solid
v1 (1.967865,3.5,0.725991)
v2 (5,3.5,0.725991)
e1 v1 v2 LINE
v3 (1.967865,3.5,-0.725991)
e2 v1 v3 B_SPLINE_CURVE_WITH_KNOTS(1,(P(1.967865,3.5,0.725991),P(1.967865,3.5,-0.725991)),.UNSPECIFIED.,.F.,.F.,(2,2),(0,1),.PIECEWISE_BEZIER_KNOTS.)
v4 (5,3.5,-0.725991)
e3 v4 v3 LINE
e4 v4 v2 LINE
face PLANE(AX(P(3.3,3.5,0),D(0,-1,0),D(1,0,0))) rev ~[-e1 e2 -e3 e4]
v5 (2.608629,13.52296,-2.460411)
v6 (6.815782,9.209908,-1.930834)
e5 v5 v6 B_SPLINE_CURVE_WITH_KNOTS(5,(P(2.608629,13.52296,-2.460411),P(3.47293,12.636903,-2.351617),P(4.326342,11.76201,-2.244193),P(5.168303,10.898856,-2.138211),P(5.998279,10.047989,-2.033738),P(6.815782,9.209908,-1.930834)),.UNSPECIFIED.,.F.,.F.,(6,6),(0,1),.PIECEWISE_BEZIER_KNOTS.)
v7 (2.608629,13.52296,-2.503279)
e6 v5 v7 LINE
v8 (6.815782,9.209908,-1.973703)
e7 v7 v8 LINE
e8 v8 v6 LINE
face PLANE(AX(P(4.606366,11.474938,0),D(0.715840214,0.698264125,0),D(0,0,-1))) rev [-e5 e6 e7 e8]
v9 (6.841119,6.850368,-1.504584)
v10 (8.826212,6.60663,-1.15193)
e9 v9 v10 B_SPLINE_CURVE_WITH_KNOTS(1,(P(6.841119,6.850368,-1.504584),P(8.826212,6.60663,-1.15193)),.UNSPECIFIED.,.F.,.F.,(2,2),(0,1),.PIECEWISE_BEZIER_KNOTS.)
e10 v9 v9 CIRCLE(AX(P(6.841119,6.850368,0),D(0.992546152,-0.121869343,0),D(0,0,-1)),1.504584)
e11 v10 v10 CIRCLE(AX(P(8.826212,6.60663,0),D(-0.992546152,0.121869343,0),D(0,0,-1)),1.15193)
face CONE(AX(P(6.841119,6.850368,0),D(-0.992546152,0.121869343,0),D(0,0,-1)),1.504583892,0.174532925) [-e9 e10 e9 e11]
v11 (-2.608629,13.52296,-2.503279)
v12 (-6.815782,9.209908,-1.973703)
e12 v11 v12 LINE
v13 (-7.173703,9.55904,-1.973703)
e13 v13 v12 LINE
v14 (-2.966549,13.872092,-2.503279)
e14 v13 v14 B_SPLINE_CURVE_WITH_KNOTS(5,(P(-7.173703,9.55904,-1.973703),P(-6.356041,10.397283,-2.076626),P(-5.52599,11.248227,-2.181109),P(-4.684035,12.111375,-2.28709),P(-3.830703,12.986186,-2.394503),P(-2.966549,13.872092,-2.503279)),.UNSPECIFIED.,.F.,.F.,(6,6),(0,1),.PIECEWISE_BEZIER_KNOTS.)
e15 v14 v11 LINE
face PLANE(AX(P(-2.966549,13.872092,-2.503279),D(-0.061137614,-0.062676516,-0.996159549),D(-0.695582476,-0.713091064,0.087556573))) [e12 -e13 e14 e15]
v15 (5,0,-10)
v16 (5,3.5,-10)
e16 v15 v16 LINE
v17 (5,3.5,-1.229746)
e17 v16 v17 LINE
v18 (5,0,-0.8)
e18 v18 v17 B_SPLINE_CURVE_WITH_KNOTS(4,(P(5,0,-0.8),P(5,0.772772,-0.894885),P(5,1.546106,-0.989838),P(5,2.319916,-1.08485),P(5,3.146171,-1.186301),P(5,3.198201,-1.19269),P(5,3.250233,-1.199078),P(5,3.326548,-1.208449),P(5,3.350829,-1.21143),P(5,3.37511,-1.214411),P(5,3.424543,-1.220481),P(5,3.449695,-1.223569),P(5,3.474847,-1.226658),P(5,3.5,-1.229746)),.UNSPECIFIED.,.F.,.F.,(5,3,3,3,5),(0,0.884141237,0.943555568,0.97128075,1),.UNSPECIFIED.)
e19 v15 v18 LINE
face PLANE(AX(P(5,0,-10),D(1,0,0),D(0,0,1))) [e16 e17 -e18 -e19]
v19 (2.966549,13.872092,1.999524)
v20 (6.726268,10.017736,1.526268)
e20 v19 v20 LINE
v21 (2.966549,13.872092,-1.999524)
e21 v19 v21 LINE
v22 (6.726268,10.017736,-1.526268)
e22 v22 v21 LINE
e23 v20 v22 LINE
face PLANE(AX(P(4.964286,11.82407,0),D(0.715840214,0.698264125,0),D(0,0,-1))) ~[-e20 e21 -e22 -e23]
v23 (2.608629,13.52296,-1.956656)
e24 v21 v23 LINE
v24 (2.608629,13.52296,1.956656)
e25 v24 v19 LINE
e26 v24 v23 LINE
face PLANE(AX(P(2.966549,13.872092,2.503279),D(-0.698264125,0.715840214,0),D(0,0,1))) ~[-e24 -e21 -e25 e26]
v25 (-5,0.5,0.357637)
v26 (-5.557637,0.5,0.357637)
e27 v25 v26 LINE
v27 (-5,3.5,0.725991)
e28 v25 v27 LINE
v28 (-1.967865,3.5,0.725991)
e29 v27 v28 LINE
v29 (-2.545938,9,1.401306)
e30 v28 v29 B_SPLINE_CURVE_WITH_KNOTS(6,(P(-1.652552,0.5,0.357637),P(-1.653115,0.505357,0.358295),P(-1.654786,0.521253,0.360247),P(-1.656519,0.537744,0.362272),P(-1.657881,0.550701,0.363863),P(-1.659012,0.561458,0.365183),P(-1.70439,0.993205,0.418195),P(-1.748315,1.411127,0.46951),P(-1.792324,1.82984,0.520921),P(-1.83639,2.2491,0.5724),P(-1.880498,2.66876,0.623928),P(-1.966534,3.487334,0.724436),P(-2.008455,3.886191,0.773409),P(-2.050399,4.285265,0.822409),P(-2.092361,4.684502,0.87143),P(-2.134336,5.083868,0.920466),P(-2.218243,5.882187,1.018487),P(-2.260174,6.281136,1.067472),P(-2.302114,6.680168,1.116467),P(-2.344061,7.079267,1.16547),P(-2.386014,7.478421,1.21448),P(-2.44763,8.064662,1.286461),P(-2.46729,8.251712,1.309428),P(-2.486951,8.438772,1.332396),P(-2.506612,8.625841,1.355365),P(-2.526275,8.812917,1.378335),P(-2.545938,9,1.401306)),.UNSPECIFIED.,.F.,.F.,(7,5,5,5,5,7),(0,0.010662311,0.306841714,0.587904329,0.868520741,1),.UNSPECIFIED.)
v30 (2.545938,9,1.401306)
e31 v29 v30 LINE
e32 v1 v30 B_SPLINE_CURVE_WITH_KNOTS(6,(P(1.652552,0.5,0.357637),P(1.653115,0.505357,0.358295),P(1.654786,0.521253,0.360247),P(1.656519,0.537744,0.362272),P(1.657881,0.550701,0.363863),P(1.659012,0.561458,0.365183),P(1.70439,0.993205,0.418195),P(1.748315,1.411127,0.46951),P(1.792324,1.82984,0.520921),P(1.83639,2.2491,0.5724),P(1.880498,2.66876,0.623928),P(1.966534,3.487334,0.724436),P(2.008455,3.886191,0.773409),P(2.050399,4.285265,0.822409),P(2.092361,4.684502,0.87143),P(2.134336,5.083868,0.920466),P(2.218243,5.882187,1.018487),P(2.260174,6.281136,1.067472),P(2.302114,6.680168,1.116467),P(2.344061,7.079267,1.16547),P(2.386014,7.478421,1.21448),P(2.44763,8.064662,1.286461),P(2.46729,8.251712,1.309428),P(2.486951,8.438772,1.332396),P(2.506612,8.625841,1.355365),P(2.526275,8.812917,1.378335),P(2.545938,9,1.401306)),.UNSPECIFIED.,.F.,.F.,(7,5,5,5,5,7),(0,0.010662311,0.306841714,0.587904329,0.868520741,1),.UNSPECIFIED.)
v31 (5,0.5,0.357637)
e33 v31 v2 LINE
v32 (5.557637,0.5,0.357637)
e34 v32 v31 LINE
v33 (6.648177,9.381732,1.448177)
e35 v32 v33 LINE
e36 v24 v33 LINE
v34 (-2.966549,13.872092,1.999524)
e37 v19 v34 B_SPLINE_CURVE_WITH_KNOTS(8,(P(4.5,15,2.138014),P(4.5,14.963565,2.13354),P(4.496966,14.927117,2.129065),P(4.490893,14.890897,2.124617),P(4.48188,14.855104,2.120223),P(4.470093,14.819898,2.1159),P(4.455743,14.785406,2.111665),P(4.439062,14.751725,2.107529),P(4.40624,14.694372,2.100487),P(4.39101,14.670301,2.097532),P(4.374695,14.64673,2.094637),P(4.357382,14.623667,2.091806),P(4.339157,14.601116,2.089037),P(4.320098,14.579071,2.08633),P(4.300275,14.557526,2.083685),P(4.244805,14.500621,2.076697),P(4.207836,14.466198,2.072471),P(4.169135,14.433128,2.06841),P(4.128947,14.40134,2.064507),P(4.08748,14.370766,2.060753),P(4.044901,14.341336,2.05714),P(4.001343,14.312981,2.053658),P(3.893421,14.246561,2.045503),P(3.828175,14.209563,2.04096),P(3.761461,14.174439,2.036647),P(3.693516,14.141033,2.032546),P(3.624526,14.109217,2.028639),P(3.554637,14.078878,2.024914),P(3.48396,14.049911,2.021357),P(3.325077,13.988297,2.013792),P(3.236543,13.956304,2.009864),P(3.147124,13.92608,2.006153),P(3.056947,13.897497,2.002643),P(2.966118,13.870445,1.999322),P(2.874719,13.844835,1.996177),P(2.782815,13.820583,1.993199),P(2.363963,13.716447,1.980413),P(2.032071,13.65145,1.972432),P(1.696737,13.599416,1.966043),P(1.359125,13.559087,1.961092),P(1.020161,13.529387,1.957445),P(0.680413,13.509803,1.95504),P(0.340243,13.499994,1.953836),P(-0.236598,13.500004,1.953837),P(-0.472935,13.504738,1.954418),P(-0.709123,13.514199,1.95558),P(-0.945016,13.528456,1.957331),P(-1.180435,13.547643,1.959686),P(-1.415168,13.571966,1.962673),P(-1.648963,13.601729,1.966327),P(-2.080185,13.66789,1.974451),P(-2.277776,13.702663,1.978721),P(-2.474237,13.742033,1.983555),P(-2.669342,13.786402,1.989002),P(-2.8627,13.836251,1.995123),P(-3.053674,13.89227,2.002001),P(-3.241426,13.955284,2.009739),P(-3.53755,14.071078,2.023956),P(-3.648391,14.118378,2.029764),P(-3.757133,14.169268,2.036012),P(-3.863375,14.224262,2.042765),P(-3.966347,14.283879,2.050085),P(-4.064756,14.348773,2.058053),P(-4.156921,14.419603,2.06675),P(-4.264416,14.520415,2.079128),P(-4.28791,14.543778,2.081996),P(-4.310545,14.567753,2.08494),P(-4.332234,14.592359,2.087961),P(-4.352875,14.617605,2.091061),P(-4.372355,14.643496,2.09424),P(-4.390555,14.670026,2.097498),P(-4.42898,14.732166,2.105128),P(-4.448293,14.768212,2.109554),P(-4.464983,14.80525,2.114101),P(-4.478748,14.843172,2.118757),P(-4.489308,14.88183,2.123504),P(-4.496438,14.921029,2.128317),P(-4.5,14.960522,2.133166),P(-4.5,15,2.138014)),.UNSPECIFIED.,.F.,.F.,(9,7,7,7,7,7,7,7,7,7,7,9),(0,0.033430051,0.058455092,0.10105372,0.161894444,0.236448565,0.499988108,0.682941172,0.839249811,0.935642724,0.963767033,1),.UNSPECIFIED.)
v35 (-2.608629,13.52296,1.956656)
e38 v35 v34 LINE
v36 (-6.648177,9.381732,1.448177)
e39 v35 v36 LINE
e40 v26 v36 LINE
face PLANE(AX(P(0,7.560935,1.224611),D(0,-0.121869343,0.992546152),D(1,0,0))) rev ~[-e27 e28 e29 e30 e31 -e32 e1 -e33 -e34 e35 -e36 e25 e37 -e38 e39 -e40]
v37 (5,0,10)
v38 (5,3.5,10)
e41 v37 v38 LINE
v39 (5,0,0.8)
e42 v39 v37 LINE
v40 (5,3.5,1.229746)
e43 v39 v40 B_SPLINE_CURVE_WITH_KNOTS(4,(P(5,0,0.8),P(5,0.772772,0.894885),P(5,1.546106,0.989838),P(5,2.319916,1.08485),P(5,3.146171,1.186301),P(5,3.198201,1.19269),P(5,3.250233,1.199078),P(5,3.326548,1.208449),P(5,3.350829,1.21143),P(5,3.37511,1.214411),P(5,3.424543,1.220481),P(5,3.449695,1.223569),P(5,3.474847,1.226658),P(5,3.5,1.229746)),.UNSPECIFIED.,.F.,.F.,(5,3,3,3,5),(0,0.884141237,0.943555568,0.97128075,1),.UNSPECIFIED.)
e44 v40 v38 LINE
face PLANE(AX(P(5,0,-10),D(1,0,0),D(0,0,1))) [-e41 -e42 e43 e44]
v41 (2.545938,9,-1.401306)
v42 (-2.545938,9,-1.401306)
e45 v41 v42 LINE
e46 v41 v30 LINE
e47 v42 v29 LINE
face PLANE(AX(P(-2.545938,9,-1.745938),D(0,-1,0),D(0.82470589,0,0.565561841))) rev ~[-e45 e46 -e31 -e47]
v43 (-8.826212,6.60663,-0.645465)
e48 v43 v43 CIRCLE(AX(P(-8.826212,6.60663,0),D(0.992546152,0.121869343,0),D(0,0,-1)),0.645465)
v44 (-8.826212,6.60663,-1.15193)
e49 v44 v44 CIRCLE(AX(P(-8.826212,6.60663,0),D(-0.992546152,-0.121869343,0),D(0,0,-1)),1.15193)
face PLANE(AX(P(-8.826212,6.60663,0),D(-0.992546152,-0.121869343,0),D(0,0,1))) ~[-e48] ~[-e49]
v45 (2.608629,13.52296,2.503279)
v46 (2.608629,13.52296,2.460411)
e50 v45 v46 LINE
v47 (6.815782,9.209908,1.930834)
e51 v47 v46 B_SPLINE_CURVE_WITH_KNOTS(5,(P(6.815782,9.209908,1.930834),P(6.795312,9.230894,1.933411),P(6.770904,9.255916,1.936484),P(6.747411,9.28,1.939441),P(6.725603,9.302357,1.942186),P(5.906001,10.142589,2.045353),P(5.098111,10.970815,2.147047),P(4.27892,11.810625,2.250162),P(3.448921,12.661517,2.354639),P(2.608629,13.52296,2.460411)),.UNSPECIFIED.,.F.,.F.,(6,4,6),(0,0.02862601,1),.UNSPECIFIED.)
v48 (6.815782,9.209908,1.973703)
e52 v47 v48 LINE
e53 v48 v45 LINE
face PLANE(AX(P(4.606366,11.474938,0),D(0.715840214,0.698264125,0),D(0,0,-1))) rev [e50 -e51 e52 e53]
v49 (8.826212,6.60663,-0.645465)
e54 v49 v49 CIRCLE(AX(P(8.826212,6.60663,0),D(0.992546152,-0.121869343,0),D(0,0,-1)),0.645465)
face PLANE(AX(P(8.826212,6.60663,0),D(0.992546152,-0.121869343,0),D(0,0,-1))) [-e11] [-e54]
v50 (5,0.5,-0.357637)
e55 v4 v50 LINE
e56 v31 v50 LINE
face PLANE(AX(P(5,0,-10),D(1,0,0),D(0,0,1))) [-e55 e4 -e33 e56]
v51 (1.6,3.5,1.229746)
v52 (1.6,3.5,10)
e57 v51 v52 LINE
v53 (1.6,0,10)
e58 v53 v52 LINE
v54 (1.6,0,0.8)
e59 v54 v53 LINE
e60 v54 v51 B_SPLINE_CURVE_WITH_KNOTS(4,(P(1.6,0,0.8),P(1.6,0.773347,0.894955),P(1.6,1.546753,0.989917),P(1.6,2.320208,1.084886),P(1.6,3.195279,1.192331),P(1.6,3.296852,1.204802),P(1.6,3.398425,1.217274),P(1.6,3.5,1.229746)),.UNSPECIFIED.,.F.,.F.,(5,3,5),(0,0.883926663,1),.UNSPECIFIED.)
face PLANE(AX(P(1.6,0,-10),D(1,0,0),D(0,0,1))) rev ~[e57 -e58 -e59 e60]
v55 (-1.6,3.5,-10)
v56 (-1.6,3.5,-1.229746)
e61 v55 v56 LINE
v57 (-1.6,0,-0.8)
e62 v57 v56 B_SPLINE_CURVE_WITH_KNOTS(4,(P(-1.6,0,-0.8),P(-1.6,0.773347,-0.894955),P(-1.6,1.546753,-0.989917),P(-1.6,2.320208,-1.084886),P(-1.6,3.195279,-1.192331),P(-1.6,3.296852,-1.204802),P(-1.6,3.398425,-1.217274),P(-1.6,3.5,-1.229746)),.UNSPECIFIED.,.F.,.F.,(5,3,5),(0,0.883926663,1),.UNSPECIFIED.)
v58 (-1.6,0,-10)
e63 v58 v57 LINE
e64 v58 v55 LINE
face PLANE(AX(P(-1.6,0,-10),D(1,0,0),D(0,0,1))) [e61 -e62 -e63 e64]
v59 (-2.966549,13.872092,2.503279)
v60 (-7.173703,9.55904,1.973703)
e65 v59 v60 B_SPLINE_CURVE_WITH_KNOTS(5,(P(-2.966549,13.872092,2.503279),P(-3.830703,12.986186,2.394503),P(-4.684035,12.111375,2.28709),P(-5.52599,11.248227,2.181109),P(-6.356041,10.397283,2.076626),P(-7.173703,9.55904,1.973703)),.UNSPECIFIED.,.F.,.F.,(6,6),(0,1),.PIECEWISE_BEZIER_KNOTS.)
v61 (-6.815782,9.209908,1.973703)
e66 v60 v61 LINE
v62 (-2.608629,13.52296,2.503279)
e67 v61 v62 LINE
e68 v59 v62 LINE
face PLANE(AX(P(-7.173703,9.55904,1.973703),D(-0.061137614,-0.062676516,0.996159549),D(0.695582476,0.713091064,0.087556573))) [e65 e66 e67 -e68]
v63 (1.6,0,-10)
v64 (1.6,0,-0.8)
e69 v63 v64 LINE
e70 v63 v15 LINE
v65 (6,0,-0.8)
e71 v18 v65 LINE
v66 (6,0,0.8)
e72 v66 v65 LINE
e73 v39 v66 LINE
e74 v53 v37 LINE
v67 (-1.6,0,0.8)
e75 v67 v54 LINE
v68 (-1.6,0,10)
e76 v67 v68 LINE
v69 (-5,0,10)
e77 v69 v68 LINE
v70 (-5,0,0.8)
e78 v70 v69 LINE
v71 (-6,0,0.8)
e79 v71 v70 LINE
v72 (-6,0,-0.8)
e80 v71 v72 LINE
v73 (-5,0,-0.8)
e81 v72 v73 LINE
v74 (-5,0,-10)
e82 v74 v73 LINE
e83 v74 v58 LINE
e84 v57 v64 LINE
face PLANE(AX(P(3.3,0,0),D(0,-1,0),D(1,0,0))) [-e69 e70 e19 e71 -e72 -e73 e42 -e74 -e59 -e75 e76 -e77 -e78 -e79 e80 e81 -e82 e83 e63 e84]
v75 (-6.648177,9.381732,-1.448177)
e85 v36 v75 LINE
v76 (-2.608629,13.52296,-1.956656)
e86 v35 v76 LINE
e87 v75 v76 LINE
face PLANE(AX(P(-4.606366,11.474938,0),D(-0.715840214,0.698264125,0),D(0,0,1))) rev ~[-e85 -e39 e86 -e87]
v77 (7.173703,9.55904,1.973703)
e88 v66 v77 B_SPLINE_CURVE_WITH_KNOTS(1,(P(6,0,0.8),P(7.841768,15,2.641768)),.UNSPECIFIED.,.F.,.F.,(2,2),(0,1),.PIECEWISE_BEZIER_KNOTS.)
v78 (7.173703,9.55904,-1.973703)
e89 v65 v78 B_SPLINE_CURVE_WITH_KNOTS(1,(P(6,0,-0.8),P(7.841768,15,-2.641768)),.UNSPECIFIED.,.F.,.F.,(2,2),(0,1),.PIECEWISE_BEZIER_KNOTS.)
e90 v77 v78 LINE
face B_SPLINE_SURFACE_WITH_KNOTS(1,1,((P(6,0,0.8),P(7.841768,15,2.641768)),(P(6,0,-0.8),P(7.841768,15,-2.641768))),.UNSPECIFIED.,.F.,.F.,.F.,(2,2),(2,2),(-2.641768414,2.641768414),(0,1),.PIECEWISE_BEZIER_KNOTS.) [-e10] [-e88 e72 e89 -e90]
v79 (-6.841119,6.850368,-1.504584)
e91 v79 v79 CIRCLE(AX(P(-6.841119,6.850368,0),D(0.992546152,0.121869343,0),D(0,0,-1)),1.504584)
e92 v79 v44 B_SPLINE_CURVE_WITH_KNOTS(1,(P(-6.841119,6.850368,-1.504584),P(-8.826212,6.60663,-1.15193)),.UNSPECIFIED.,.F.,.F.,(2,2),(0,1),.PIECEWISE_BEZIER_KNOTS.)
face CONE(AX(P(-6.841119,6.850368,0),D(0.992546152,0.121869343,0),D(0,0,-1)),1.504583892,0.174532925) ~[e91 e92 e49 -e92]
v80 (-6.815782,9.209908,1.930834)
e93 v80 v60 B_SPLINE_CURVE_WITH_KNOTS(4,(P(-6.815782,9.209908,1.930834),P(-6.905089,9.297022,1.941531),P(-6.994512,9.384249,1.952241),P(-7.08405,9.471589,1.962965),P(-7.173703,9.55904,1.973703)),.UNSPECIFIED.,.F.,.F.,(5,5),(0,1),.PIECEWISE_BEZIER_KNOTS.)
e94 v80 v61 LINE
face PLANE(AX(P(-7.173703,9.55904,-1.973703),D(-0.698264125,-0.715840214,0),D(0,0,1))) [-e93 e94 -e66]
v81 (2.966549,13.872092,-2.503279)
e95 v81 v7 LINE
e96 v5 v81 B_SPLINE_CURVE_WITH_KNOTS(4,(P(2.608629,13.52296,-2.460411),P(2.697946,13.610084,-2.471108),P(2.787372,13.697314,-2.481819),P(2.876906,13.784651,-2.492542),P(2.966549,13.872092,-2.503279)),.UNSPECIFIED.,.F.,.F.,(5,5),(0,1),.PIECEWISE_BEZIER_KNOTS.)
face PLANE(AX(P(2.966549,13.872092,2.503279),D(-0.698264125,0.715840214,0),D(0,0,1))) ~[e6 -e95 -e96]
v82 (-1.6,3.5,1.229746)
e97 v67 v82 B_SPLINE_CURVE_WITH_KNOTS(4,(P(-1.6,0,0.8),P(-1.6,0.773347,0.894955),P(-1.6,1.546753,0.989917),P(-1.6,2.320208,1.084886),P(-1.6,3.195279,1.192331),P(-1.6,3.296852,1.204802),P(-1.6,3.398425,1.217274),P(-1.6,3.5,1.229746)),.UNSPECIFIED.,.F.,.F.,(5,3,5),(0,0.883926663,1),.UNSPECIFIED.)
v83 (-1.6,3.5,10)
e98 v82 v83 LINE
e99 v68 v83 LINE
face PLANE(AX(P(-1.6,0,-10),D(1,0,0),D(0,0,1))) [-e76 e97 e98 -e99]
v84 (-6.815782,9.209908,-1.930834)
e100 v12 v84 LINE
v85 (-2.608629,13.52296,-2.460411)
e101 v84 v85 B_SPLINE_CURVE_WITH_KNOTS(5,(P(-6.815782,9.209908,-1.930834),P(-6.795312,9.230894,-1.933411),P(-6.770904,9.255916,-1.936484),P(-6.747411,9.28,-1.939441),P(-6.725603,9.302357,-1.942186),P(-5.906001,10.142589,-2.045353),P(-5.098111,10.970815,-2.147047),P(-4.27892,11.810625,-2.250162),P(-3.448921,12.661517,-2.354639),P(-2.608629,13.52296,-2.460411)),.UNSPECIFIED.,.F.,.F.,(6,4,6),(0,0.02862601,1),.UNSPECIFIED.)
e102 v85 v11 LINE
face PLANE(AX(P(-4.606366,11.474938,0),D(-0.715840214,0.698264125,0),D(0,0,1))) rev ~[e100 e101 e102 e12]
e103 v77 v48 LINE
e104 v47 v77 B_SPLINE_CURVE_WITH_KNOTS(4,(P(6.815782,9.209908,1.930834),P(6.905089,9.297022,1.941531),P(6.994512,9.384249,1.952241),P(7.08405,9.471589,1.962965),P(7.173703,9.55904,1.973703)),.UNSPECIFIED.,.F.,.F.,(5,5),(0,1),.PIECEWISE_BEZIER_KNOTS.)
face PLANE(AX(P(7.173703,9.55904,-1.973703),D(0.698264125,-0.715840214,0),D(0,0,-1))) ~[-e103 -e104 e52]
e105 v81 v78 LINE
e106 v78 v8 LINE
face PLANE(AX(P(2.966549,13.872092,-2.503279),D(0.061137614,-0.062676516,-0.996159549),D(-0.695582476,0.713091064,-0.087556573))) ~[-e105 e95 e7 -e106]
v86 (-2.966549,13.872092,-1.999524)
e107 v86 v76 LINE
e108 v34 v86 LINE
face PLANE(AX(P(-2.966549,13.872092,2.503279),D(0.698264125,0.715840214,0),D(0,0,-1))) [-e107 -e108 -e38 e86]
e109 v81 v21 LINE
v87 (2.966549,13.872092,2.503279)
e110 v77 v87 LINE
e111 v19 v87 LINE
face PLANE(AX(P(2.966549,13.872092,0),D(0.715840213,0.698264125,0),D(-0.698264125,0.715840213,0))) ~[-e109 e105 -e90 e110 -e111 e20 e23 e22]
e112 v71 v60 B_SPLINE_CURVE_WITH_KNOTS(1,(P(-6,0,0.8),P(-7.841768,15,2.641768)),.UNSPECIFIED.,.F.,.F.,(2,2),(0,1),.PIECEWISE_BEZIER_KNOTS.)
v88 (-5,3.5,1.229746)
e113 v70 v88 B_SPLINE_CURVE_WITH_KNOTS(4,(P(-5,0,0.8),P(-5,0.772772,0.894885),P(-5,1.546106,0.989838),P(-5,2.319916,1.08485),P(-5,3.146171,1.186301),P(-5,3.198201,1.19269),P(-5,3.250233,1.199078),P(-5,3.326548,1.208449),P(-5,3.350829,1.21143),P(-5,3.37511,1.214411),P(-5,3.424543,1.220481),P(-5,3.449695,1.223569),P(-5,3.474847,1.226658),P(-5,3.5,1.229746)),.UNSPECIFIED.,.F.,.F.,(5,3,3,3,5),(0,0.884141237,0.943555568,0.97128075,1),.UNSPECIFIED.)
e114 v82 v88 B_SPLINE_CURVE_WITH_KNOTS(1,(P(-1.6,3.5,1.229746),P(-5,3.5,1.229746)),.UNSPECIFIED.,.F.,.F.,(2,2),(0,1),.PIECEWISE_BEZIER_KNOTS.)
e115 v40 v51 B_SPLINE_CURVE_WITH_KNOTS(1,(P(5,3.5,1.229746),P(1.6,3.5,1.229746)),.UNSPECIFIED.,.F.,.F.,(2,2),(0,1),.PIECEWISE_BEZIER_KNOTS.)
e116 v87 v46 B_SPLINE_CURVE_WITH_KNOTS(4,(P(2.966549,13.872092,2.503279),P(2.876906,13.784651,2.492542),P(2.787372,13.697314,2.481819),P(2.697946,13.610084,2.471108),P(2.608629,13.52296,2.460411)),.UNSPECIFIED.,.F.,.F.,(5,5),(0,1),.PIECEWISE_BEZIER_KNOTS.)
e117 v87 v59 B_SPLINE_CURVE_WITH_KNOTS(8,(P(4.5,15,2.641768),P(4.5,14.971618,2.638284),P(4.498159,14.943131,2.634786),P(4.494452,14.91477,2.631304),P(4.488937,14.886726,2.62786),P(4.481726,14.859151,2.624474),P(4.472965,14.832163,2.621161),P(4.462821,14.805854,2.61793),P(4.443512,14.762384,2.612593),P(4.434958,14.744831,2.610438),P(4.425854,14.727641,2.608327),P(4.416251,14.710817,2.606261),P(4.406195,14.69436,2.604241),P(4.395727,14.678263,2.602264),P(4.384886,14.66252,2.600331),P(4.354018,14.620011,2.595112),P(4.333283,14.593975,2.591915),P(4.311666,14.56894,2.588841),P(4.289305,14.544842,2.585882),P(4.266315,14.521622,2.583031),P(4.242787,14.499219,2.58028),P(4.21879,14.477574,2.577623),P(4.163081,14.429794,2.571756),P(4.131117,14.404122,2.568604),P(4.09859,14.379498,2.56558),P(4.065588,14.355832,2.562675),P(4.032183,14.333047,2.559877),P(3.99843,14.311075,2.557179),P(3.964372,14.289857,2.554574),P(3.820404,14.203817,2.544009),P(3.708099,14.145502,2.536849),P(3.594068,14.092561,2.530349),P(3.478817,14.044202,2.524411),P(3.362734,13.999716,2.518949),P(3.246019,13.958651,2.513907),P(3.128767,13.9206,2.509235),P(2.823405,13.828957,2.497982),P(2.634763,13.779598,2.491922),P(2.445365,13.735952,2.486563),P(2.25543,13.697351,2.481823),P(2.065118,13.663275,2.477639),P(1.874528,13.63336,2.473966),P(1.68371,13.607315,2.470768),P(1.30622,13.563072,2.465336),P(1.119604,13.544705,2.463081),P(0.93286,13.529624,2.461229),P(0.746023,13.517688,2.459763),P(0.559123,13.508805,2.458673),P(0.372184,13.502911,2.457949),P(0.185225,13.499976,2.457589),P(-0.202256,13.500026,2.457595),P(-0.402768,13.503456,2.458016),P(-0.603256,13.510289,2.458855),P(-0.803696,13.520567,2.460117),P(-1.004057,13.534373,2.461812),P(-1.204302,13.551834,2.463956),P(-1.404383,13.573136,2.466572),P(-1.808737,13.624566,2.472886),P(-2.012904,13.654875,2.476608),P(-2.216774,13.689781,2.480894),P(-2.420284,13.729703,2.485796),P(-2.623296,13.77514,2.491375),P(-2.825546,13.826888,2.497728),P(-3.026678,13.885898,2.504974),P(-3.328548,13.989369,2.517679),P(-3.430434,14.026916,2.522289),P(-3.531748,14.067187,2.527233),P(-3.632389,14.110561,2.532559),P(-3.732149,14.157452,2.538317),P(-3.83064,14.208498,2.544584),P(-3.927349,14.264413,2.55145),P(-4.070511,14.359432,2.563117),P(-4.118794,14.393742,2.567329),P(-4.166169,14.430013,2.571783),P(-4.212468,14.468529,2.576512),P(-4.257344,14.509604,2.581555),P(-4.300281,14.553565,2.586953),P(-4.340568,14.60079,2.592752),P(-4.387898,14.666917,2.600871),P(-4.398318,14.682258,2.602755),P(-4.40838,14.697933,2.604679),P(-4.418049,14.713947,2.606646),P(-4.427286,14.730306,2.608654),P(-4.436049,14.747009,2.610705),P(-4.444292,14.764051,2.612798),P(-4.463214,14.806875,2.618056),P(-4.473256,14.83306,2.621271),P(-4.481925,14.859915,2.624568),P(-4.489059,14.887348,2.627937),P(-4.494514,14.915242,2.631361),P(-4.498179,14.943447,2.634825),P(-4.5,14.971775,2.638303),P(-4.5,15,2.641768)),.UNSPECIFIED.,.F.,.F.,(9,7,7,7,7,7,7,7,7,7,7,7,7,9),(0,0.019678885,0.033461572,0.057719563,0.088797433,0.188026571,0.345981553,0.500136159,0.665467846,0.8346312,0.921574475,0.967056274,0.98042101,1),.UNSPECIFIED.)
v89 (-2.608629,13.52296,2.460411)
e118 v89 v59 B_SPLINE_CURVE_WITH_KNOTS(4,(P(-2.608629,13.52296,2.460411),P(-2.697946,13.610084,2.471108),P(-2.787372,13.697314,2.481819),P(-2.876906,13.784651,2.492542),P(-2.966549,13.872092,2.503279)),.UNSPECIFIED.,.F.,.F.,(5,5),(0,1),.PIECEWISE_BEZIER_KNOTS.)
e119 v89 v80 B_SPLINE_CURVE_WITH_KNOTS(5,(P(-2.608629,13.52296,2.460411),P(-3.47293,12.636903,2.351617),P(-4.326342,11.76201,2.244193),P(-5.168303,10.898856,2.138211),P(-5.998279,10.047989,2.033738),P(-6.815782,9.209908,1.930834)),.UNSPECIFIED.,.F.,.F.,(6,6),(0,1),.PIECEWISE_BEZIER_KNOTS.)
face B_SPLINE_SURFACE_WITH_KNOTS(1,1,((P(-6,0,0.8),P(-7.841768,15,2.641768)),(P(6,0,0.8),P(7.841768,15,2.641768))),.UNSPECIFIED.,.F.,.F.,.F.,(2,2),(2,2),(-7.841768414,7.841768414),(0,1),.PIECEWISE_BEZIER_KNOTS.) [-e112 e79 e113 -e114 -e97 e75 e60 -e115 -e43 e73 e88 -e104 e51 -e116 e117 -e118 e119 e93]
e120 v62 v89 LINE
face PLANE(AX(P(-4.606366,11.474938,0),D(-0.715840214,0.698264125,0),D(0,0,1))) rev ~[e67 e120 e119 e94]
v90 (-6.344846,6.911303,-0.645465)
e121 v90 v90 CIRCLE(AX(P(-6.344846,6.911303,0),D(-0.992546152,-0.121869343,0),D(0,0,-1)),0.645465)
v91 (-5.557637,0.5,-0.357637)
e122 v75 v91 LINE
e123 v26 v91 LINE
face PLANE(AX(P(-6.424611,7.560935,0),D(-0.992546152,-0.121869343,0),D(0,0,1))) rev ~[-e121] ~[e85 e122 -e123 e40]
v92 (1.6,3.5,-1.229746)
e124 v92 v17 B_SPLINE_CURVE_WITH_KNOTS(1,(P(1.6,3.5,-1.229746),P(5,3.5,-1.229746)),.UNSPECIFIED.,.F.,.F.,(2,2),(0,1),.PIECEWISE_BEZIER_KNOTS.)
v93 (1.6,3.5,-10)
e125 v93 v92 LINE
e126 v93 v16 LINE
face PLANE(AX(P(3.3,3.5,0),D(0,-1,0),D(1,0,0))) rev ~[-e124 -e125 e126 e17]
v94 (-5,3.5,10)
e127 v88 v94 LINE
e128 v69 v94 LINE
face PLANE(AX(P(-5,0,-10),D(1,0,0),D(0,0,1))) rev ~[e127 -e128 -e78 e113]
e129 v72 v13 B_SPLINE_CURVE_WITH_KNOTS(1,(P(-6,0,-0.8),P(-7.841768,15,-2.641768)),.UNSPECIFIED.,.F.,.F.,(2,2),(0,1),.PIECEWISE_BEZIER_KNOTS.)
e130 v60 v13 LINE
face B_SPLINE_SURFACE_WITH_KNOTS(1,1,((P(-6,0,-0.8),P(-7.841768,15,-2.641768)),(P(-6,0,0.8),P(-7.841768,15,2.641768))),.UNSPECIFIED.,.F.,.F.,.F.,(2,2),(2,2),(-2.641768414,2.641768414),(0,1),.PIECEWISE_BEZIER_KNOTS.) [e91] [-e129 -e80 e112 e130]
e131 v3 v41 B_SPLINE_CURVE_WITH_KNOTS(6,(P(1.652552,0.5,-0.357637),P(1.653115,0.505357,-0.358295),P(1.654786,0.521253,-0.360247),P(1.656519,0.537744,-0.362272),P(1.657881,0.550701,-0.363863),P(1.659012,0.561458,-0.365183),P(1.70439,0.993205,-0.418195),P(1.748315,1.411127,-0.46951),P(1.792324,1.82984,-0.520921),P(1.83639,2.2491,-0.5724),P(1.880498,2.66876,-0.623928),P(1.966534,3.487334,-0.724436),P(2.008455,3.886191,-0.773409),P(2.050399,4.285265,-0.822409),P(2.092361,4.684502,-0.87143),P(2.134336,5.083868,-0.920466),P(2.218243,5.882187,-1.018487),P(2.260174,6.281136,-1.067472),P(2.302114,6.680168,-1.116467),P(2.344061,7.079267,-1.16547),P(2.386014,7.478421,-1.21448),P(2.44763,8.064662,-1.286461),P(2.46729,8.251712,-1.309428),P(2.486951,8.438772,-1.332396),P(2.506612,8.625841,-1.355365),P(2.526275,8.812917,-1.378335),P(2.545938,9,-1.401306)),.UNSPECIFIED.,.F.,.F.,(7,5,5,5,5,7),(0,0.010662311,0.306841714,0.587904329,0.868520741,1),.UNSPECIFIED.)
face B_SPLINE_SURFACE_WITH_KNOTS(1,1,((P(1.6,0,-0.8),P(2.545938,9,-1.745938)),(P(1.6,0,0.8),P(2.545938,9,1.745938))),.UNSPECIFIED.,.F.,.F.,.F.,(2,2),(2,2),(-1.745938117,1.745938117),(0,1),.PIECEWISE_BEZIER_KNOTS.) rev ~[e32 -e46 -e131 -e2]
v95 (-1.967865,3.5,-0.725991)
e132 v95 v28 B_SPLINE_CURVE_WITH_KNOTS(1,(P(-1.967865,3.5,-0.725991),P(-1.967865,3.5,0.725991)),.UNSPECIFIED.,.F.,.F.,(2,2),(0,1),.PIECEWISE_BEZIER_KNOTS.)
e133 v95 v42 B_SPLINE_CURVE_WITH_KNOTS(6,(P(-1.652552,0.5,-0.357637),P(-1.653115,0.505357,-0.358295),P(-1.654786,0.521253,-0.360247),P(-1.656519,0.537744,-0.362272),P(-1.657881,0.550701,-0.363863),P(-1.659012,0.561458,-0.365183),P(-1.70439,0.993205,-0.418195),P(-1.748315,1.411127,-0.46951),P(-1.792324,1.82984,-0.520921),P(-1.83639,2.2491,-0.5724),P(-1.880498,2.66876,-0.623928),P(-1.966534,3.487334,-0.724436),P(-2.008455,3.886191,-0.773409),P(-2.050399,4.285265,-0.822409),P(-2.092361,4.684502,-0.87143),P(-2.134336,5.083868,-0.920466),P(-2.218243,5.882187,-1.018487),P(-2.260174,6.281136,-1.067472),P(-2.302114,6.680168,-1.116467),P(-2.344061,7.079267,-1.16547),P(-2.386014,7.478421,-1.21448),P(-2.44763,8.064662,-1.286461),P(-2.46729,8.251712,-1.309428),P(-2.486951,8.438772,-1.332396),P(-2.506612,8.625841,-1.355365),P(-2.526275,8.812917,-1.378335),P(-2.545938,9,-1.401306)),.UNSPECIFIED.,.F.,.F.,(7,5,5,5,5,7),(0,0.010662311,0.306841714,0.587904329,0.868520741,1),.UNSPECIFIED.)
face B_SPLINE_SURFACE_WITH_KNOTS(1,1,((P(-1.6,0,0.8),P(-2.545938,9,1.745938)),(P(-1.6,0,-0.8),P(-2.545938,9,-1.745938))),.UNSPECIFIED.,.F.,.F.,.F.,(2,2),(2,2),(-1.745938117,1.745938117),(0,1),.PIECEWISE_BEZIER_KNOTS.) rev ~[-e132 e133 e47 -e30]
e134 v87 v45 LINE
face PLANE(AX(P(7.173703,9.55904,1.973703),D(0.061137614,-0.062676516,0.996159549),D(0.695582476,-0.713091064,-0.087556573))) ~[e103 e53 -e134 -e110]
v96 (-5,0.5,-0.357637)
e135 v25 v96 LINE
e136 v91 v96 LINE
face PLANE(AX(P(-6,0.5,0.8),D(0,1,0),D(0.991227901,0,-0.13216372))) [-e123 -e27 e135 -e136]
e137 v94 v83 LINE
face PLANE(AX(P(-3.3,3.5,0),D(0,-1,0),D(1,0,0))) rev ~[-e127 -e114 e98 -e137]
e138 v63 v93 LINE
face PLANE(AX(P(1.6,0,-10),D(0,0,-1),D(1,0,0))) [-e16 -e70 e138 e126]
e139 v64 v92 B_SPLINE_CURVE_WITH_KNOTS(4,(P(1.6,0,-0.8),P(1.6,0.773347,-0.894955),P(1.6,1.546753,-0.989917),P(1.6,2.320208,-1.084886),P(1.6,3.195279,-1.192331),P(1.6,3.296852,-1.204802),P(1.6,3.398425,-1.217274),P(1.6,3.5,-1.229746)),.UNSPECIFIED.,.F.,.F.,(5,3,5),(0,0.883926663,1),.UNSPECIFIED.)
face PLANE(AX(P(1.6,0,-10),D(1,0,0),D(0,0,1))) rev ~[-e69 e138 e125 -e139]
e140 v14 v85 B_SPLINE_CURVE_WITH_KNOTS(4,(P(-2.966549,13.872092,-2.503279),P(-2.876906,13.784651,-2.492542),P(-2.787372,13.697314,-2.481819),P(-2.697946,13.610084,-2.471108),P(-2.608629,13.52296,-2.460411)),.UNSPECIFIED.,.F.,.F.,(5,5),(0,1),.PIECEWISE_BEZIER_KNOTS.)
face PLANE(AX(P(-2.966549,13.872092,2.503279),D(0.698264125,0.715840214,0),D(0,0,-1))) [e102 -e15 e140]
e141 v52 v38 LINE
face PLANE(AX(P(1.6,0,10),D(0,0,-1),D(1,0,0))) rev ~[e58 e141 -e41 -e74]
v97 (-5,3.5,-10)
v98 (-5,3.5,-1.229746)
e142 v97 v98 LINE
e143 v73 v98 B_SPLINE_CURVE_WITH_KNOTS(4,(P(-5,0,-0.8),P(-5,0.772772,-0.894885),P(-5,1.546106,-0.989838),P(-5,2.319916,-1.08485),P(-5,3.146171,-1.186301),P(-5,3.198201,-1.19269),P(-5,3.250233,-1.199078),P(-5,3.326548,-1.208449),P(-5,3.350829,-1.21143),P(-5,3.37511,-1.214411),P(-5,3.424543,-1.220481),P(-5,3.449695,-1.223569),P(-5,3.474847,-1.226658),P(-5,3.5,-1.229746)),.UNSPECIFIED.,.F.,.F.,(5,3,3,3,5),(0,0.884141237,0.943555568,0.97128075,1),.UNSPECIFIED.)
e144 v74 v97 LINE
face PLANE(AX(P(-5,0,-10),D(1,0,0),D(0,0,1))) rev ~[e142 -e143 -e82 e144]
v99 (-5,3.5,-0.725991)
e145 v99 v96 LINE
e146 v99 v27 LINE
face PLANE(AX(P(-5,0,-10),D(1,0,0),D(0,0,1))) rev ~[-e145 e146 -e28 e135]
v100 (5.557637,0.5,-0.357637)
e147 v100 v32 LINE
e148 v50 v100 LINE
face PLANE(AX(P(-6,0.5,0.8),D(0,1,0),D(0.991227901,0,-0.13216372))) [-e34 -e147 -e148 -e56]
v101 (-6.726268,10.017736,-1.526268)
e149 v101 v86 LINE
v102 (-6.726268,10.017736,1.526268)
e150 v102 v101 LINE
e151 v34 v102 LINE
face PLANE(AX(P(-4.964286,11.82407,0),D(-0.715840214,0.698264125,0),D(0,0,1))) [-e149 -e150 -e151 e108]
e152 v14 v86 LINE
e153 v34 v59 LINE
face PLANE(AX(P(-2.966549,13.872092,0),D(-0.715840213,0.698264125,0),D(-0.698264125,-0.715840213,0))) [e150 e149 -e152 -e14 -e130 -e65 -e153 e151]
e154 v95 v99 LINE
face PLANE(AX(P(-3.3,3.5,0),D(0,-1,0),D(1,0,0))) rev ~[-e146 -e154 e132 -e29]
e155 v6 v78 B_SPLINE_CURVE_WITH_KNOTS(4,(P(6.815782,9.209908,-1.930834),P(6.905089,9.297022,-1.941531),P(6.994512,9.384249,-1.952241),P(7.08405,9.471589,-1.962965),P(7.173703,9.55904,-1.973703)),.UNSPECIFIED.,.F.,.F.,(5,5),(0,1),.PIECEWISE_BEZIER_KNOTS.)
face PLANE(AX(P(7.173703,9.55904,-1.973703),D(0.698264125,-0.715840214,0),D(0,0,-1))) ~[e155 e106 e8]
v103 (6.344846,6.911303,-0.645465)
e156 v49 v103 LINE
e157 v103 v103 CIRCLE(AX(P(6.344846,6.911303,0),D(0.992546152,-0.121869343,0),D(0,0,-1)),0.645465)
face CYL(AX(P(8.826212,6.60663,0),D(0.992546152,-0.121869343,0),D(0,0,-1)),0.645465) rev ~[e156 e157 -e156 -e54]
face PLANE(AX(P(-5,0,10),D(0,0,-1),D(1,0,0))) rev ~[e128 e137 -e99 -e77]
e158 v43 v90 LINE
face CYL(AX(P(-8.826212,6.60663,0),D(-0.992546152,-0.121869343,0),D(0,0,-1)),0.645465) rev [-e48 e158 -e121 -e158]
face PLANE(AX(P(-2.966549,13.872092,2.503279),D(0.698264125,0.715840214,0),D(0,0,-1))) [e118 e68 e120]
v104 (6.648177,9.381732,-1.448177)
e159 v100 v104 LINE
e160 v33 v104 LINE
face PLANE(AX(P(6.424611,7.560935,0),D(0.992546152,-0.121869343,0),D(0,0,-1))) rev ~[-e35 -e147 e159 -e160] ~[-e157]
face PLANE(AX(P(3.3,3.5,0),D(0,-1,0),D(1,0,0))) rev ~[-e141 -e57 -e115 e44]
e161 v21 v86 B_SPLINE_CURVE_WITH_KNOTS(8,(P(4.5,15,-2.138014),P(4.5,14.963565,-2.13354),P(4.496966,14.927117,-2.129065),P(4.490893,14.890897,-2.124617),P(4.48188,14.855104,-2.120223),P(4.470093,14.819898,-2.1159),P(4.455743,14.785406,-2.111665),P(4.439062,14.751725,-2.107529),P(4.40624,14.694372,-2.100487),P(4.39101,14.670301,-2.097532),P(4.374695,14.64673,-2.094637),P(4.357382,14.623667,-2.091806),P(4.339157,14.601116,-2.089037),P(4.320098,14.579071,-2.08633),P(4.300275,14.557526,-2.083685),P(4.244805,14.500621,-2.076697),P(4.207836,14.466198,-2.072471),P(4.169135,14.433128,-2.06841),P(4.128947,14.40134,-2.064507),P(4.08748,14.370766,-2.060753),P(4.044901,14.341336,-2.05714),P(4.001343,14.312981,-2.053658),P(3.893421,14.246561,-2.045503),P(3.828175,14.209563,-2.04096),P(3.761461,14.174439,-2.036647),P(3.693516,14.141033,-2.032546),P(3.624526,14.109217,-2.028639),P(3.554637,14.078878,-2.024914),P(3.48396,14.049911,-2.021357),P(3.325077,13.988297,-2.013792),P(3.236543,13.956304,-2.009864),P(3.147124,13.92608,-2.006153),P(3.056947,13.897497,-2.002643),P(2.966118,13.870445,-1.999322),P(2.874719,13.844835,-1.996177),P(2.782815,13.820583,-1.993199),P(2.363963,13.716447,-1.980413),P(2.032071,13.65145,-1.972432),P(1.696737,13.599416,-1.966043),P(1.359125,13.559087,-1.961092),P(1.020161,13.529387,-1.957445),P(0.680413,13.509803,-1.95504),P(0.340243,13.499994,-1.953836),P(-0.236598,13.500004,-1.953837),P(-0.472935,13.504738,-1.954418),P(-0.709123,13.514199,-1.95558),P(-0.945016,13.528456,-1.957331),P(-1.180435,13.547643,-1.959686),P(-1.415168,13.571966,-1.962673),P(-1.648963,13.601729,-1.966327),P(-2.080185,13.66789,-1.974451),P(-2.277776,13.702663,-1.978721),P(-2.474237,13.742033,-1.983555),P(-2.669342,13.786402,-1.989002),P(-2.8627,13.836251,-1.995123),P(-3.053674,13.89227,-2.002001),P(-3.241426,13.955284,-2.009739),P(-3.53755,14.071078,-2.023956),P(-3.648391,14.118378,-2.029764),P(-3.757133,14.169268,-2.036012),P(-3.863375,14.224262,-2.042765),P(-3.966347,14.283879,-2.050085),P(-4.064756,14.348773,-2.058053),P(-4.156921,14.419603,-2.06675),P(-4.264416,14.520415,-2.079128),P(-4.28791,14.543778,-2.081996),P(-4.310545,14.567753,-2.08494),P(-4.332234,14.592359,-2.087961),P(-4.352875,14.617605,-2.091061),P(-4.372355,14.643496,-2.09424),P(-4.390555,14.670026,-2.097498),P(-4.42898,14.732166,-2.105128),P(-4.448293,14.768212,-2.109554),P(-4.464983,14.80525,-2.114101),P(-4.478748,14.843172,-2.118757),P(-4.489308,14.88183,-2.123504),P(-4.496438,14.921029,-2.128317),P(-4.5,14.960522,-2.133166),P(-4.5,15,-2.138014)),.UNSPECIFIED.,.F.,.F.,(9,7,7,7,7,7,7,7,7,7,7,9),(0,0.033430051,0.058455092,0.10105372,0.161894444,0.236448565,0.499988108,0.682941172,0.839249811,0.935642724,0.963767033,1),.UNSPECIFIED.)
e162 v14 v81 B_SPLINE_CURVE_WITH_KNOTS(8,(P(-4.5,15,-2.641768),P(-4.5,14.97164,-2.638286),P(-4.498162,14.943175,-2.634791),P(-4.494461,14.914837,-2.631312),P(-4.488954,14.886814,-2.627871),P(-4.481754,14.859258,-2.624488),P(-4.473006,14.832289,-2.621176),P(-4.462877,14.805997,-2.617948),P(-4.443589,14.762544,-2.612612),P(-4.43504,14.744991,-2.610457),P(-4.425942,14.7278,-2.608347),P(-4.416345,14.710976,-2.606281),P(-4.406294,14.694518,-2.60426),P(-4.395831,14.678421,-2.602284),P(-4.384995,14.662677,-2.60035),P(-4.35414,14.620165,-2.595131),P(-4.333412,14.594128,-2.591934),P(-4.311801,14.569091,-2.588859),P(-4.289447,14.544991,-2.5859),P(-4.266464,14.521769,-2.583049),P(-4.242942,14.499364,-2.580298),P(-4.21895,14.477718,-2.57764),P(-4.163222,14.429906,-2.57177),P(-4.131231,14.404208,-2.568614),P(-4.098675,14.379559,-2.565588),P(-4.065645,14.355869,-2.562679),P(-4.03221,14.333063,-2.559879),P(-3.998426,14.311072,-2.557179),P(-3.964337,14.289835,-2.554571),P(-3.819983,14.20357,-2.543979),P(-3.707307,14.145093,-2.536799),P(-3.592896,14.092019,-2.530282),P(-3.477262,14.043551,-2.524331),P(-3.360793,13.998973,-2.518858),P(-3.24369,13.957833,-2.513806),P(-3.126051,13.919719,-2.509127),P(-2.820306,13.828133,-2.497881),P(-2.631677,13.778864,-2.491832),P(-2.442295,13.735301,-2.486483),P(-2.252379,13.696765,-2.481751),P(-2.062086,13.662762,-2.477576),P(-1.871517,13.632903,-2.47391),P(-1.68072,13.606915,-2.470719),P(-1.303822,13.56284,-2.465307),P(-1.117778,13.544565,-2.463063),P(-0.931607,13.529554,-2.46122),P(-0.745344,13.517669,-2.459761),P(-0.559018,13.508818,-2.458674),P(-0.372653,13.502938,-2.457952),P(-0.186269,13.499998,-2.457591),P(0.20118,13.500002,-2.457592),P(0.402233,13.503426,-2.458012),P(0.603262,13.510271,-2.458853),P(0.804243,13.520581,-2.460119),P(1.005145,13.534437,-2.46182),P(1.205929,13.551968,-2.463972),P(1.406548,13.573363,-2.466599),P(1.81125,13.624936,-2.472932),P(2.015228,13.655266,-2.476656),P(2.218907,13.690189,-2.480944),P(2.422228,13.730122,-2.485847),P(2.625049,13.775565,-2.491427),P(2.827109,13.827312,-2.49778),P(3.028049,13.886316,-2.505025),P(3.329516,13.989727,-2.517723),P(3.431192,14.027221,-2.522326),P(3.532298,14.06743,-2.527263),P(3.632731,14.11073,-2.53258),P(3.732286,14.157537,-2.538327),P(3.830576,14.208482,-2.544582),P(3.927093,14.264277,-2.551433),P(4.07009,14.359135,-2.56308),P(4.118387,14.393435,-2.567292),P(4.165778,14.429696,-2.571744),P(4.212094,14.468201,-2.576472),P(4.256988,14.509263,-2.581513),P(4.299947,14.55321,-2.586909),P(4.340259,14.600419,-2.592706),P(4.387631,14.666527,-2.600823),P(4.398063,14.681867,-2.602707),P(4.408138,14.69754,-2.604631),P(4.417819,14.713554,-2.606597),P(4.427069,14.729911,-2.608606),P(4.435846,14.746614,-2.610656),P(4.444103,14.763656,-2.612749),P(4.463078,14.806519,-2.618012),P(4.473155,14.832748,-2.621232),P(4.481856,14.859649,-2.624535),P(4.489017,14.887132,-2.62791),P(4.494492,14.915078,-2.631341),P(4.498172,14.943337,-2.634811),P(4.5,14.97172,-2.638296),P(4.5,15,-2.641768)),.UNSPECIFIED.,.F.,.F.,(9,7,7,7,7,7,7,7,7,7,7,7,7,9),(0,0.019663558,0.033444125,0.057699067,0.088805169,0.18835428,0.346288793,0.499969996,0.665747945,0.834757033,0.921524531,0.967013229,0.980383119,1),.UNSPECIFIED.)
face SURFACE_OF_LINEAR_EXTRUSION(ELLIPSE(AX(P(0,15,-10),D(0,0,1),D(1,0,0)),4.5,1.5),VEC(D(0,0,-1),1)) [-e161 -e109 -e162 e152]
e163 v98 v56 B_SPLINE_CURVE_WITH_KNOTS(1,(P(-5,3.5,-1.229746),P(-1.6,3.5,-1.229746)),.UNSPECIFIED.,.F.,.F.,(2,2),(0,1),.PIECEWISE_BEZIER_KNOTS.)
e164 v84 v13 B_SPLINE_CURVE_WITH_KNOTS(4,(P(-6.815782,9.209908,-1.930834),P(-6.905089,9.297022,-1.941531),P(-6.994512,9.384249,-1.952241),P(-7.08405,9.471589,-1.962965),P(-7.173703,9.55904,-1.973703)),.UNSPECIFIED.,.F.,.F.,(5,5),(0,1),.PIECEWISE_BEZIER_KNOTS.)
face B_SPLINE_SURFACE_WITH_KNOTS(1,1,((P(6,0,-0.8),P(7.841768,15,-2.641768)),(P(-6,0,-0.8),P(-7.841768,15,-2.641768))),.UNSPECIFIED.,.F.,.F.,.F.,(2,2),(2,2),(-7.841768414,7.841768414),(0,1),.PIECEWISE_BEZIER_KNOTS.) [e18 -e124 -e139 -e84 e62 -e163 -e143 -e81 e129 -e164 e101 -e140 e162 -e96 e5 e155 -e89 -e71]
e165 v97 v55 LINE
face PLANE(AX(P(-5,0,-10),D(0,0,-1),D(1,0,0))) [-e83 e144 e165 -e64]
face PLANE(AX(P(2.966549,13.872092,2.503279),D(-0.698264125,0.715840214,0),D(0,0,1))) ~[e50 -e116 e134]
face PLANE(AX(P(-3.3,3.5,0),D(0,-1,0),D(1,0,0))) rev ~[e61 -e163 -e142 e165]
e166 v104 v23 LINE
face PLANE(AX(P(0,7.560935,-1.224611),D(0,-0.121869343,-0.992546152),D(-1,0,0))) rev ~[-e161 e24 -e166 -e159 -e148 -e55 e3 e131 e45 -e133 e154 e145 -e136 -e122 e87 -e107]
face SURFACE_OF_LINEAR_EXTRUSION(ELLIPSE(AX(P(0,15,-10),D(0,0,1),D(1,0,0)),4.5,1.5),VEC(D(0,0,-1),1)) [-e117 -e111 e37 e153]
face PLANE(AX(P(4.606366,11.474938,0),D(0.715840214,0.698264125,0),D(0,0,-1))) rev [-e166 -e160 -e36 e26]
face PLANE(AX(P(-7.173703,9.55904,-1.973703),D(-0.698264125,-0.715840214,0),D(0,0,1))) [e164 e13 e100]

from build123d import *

# Parameters (mm, degrees)
SKETCH1_W                = 12
SKETCH1_H                = 1.6
BOSS_EXTRUDE1_DEPTH      = 15
BOSS_EXTRUDE1_TAPER      = -7
SHELL1_T                 = -0.5
SKETCH6_W                = 3.4
SKETCH6_H                = 20
BOSS_EXTRUDE2_DEPTH      = 3.5
BOSS_EXTRUDE2_2_DEPTH    = 3.5
CUT_EXTRUDE11_DEPTH      = 10
CUT_EXTRUDE11_DEPTH_BACK = 10
SKETCH11_RX              = 4.5
SKETCH11_RY              = 1.5
CUT_EXTRUDE12_DEPTH      = 10
BOSS_EXTRUDE3_DEPTH      = 0.5
SKETCH30_W               = 3.2
SKETCH30_H               = 1.6
BOSS_EXTRUDE6_DEPTH      = 9
BOSS_EXTRUDE6_TAPER      = -6
SKETCH31_R               = 1.504583892
BOSS_EXTRUDE7_DEPTH      = 2
BOSS_EXTRUDE7_TAPER      = 10
SKETCH32_R               = 0.64546473
CUT_EXTRUDE13_DEPTH      = 4


with BuildPart() as part:
    # Sketch1 → Boss-Extrude1 (new body)
    with BuildSketch(Plane(origin=(0, 0, 0), x_dir=(1, 0, 0), z_dir=(0, 1, 0))):
        Rectangle(SKETCH1_W, SKETCH1_H)
    extrude(amount=BOSS_EXTRUDE1_DEPTH, taper=BOSS_EXTRUDE1_TAPER)

    # Shell1
    shell1_openings = [part.faces().sort_by_distance(p)[0] for p in [
        (0, 15, 0),
    ]]
    offset(amount=SHELL1_T, openings=shell1_openings, kind=Kind.INTERSECTION)

    # Sketch11 → Cut-Extrude11 (cut, two sides: drawn at the far end of the back side and taken through both)
    with BuildSketch(Plane.XY.offset(-CUT_EXTRUDE11_DEPTH_BACK)):
        with Locations((0, 15)):
            Ellipse(SKETCH11_RX, SKETCH11_RY)
    extrude(amount=CUT_EXTRUDE11_DEPTH + CUT_EXTRUDE11_DEPTH_BACK, mode=Mode.SUBTRACT)

    # Sketch18 → Cut-Extrude12 (cut, symmetric)
    with BuildSketch(Plane.XY):
        Polygon((-2.966549011, 13.872092056), (-7.173702506, 9.559039808), (-8.984967274, 15.813419698), (-2.966549011, 15.813419698), align=None)
    cut_extrude12 = extrude(amount=CUT_EXTRUDE12_DEPTH, both=True, mode=Mode.SUBTRACT)

    # Sketch19 → Boss-Extrude3 (add)
    with BuildSketch(Plane(origin=(-8.45404379, 8.246470904, 0), x_dir=(0, 0, 1), z_dir=(-0.7158402135047951, 0.6982641253346826, 0))):
        Polygon((1.973702506, 1.833605992), (2.503278732, 7.858766589), (-2.503278732, 7.858766589), (-1.973702506, 1.833605992), align=None)
    boss_extrude3 = extrude(amount=-BOSS_EXTRUDE3_DEPTH)

    # Mirror3: Boss-Extrude3 across plane
    add(boss_extrude3.mirror(Plane(origin=(0, 0, 0), x_dir=(0, 0, 1), z_dir=(1, 0, 0))))



with BuildPart() as body_2:
    # Sketch6 → Boss-Extrude2 (new body)
    with BuildSketch(Plane.XZ):
        with Locations((-3.3, 0)):
            Rectangle(SKETCH6_W, SKETCH6_H)
    extrude(amount=-BOSS_EXTRUDE2_DEPTH)


with BuildPart() as body_3:
    # Sketch6 → Boss-Extrude2 2 (new body)
    with BuildSketch(Plane.XZ):
        with Locations((3.3, 0)):
            Rectangle(SKETCH6_W, SKETCH6_H)
    extrude(amount=-BOSS_EXTRUDE2_2_DEPTH)


with BuildPart() as part_1:
    add(part.part)

    add(body_2.part)  # Boss-Extrude6 merges body 2

    add(body_3.part)  # Boss-Extrude6 merges body 3
    # Sketch30 → Boss-Extrude6 (add)
    with BuildSketch(Plane.XZ):
        Rectangle(SKETCH30_W, SKETCH30_H)
    extrude(amount=-BOSS_EXTRUDE6_DEPTH, taper=BOSS_EXTRUDE6_TAPER)

    # Mirror7: Cut-Extrude12 across plane
    add(cut_extrude12.mirror(Plane(origin=(0, 0, 0), x_dir=(0, 0, 1), z_dir=(1, 0, 0))), mode=Mode.SUBTRACT)

    # Sketch31 → Boss-Extrude7 (add)
    with BuildSketch(Plane(origin=(5.910887179, -0.725765687, 0), x_dir=(0, 0, -1), z_dir=(0.992546151641322, -0.12186934340514774, 0))):
        with Locations((0, 7.63302961)):
            Circle(SKETCH31_R)
    boss_extrude7 = extrude(amount=BOSS_EXTRUDE7_DEPTH, taper=BOSS_EXTRUDE7_TAPER)

    # Mirror8: Boss-Extrude7 across plane
    add(boss_extrude7.mirror(Plane(origin=(0, 0, 0), x_dir=(0, 0, 1), z_dir=(1, 0, 0))))

    # Sketch32 → Cut-Extrude13 (cut)
    with BuildSketch(Plane(origin=(7.895979482, -0.969504374, 0), x_dir=(0, 0, -1), z_dir=(0.992546151641322, -0.12186934340514774, 0))):
        with Locations((0, 7.63302961)):
            Circle(SKETCH32_R)
    cut_extrude13 = extrude(amount=-CUT_EXTRUDE13_DEPTH, mode=Mode.SUBTRACT)

    # Mirror9: Cut-Extrude13 across plane
    add(cut_extrude13.mirror(Plane(origin=(0, 0, 0), x_dir=(0, 0, 1), z_dir=(1, 0, 0))), mode=Mode.SUBTRACT)


solid = part_1.part
